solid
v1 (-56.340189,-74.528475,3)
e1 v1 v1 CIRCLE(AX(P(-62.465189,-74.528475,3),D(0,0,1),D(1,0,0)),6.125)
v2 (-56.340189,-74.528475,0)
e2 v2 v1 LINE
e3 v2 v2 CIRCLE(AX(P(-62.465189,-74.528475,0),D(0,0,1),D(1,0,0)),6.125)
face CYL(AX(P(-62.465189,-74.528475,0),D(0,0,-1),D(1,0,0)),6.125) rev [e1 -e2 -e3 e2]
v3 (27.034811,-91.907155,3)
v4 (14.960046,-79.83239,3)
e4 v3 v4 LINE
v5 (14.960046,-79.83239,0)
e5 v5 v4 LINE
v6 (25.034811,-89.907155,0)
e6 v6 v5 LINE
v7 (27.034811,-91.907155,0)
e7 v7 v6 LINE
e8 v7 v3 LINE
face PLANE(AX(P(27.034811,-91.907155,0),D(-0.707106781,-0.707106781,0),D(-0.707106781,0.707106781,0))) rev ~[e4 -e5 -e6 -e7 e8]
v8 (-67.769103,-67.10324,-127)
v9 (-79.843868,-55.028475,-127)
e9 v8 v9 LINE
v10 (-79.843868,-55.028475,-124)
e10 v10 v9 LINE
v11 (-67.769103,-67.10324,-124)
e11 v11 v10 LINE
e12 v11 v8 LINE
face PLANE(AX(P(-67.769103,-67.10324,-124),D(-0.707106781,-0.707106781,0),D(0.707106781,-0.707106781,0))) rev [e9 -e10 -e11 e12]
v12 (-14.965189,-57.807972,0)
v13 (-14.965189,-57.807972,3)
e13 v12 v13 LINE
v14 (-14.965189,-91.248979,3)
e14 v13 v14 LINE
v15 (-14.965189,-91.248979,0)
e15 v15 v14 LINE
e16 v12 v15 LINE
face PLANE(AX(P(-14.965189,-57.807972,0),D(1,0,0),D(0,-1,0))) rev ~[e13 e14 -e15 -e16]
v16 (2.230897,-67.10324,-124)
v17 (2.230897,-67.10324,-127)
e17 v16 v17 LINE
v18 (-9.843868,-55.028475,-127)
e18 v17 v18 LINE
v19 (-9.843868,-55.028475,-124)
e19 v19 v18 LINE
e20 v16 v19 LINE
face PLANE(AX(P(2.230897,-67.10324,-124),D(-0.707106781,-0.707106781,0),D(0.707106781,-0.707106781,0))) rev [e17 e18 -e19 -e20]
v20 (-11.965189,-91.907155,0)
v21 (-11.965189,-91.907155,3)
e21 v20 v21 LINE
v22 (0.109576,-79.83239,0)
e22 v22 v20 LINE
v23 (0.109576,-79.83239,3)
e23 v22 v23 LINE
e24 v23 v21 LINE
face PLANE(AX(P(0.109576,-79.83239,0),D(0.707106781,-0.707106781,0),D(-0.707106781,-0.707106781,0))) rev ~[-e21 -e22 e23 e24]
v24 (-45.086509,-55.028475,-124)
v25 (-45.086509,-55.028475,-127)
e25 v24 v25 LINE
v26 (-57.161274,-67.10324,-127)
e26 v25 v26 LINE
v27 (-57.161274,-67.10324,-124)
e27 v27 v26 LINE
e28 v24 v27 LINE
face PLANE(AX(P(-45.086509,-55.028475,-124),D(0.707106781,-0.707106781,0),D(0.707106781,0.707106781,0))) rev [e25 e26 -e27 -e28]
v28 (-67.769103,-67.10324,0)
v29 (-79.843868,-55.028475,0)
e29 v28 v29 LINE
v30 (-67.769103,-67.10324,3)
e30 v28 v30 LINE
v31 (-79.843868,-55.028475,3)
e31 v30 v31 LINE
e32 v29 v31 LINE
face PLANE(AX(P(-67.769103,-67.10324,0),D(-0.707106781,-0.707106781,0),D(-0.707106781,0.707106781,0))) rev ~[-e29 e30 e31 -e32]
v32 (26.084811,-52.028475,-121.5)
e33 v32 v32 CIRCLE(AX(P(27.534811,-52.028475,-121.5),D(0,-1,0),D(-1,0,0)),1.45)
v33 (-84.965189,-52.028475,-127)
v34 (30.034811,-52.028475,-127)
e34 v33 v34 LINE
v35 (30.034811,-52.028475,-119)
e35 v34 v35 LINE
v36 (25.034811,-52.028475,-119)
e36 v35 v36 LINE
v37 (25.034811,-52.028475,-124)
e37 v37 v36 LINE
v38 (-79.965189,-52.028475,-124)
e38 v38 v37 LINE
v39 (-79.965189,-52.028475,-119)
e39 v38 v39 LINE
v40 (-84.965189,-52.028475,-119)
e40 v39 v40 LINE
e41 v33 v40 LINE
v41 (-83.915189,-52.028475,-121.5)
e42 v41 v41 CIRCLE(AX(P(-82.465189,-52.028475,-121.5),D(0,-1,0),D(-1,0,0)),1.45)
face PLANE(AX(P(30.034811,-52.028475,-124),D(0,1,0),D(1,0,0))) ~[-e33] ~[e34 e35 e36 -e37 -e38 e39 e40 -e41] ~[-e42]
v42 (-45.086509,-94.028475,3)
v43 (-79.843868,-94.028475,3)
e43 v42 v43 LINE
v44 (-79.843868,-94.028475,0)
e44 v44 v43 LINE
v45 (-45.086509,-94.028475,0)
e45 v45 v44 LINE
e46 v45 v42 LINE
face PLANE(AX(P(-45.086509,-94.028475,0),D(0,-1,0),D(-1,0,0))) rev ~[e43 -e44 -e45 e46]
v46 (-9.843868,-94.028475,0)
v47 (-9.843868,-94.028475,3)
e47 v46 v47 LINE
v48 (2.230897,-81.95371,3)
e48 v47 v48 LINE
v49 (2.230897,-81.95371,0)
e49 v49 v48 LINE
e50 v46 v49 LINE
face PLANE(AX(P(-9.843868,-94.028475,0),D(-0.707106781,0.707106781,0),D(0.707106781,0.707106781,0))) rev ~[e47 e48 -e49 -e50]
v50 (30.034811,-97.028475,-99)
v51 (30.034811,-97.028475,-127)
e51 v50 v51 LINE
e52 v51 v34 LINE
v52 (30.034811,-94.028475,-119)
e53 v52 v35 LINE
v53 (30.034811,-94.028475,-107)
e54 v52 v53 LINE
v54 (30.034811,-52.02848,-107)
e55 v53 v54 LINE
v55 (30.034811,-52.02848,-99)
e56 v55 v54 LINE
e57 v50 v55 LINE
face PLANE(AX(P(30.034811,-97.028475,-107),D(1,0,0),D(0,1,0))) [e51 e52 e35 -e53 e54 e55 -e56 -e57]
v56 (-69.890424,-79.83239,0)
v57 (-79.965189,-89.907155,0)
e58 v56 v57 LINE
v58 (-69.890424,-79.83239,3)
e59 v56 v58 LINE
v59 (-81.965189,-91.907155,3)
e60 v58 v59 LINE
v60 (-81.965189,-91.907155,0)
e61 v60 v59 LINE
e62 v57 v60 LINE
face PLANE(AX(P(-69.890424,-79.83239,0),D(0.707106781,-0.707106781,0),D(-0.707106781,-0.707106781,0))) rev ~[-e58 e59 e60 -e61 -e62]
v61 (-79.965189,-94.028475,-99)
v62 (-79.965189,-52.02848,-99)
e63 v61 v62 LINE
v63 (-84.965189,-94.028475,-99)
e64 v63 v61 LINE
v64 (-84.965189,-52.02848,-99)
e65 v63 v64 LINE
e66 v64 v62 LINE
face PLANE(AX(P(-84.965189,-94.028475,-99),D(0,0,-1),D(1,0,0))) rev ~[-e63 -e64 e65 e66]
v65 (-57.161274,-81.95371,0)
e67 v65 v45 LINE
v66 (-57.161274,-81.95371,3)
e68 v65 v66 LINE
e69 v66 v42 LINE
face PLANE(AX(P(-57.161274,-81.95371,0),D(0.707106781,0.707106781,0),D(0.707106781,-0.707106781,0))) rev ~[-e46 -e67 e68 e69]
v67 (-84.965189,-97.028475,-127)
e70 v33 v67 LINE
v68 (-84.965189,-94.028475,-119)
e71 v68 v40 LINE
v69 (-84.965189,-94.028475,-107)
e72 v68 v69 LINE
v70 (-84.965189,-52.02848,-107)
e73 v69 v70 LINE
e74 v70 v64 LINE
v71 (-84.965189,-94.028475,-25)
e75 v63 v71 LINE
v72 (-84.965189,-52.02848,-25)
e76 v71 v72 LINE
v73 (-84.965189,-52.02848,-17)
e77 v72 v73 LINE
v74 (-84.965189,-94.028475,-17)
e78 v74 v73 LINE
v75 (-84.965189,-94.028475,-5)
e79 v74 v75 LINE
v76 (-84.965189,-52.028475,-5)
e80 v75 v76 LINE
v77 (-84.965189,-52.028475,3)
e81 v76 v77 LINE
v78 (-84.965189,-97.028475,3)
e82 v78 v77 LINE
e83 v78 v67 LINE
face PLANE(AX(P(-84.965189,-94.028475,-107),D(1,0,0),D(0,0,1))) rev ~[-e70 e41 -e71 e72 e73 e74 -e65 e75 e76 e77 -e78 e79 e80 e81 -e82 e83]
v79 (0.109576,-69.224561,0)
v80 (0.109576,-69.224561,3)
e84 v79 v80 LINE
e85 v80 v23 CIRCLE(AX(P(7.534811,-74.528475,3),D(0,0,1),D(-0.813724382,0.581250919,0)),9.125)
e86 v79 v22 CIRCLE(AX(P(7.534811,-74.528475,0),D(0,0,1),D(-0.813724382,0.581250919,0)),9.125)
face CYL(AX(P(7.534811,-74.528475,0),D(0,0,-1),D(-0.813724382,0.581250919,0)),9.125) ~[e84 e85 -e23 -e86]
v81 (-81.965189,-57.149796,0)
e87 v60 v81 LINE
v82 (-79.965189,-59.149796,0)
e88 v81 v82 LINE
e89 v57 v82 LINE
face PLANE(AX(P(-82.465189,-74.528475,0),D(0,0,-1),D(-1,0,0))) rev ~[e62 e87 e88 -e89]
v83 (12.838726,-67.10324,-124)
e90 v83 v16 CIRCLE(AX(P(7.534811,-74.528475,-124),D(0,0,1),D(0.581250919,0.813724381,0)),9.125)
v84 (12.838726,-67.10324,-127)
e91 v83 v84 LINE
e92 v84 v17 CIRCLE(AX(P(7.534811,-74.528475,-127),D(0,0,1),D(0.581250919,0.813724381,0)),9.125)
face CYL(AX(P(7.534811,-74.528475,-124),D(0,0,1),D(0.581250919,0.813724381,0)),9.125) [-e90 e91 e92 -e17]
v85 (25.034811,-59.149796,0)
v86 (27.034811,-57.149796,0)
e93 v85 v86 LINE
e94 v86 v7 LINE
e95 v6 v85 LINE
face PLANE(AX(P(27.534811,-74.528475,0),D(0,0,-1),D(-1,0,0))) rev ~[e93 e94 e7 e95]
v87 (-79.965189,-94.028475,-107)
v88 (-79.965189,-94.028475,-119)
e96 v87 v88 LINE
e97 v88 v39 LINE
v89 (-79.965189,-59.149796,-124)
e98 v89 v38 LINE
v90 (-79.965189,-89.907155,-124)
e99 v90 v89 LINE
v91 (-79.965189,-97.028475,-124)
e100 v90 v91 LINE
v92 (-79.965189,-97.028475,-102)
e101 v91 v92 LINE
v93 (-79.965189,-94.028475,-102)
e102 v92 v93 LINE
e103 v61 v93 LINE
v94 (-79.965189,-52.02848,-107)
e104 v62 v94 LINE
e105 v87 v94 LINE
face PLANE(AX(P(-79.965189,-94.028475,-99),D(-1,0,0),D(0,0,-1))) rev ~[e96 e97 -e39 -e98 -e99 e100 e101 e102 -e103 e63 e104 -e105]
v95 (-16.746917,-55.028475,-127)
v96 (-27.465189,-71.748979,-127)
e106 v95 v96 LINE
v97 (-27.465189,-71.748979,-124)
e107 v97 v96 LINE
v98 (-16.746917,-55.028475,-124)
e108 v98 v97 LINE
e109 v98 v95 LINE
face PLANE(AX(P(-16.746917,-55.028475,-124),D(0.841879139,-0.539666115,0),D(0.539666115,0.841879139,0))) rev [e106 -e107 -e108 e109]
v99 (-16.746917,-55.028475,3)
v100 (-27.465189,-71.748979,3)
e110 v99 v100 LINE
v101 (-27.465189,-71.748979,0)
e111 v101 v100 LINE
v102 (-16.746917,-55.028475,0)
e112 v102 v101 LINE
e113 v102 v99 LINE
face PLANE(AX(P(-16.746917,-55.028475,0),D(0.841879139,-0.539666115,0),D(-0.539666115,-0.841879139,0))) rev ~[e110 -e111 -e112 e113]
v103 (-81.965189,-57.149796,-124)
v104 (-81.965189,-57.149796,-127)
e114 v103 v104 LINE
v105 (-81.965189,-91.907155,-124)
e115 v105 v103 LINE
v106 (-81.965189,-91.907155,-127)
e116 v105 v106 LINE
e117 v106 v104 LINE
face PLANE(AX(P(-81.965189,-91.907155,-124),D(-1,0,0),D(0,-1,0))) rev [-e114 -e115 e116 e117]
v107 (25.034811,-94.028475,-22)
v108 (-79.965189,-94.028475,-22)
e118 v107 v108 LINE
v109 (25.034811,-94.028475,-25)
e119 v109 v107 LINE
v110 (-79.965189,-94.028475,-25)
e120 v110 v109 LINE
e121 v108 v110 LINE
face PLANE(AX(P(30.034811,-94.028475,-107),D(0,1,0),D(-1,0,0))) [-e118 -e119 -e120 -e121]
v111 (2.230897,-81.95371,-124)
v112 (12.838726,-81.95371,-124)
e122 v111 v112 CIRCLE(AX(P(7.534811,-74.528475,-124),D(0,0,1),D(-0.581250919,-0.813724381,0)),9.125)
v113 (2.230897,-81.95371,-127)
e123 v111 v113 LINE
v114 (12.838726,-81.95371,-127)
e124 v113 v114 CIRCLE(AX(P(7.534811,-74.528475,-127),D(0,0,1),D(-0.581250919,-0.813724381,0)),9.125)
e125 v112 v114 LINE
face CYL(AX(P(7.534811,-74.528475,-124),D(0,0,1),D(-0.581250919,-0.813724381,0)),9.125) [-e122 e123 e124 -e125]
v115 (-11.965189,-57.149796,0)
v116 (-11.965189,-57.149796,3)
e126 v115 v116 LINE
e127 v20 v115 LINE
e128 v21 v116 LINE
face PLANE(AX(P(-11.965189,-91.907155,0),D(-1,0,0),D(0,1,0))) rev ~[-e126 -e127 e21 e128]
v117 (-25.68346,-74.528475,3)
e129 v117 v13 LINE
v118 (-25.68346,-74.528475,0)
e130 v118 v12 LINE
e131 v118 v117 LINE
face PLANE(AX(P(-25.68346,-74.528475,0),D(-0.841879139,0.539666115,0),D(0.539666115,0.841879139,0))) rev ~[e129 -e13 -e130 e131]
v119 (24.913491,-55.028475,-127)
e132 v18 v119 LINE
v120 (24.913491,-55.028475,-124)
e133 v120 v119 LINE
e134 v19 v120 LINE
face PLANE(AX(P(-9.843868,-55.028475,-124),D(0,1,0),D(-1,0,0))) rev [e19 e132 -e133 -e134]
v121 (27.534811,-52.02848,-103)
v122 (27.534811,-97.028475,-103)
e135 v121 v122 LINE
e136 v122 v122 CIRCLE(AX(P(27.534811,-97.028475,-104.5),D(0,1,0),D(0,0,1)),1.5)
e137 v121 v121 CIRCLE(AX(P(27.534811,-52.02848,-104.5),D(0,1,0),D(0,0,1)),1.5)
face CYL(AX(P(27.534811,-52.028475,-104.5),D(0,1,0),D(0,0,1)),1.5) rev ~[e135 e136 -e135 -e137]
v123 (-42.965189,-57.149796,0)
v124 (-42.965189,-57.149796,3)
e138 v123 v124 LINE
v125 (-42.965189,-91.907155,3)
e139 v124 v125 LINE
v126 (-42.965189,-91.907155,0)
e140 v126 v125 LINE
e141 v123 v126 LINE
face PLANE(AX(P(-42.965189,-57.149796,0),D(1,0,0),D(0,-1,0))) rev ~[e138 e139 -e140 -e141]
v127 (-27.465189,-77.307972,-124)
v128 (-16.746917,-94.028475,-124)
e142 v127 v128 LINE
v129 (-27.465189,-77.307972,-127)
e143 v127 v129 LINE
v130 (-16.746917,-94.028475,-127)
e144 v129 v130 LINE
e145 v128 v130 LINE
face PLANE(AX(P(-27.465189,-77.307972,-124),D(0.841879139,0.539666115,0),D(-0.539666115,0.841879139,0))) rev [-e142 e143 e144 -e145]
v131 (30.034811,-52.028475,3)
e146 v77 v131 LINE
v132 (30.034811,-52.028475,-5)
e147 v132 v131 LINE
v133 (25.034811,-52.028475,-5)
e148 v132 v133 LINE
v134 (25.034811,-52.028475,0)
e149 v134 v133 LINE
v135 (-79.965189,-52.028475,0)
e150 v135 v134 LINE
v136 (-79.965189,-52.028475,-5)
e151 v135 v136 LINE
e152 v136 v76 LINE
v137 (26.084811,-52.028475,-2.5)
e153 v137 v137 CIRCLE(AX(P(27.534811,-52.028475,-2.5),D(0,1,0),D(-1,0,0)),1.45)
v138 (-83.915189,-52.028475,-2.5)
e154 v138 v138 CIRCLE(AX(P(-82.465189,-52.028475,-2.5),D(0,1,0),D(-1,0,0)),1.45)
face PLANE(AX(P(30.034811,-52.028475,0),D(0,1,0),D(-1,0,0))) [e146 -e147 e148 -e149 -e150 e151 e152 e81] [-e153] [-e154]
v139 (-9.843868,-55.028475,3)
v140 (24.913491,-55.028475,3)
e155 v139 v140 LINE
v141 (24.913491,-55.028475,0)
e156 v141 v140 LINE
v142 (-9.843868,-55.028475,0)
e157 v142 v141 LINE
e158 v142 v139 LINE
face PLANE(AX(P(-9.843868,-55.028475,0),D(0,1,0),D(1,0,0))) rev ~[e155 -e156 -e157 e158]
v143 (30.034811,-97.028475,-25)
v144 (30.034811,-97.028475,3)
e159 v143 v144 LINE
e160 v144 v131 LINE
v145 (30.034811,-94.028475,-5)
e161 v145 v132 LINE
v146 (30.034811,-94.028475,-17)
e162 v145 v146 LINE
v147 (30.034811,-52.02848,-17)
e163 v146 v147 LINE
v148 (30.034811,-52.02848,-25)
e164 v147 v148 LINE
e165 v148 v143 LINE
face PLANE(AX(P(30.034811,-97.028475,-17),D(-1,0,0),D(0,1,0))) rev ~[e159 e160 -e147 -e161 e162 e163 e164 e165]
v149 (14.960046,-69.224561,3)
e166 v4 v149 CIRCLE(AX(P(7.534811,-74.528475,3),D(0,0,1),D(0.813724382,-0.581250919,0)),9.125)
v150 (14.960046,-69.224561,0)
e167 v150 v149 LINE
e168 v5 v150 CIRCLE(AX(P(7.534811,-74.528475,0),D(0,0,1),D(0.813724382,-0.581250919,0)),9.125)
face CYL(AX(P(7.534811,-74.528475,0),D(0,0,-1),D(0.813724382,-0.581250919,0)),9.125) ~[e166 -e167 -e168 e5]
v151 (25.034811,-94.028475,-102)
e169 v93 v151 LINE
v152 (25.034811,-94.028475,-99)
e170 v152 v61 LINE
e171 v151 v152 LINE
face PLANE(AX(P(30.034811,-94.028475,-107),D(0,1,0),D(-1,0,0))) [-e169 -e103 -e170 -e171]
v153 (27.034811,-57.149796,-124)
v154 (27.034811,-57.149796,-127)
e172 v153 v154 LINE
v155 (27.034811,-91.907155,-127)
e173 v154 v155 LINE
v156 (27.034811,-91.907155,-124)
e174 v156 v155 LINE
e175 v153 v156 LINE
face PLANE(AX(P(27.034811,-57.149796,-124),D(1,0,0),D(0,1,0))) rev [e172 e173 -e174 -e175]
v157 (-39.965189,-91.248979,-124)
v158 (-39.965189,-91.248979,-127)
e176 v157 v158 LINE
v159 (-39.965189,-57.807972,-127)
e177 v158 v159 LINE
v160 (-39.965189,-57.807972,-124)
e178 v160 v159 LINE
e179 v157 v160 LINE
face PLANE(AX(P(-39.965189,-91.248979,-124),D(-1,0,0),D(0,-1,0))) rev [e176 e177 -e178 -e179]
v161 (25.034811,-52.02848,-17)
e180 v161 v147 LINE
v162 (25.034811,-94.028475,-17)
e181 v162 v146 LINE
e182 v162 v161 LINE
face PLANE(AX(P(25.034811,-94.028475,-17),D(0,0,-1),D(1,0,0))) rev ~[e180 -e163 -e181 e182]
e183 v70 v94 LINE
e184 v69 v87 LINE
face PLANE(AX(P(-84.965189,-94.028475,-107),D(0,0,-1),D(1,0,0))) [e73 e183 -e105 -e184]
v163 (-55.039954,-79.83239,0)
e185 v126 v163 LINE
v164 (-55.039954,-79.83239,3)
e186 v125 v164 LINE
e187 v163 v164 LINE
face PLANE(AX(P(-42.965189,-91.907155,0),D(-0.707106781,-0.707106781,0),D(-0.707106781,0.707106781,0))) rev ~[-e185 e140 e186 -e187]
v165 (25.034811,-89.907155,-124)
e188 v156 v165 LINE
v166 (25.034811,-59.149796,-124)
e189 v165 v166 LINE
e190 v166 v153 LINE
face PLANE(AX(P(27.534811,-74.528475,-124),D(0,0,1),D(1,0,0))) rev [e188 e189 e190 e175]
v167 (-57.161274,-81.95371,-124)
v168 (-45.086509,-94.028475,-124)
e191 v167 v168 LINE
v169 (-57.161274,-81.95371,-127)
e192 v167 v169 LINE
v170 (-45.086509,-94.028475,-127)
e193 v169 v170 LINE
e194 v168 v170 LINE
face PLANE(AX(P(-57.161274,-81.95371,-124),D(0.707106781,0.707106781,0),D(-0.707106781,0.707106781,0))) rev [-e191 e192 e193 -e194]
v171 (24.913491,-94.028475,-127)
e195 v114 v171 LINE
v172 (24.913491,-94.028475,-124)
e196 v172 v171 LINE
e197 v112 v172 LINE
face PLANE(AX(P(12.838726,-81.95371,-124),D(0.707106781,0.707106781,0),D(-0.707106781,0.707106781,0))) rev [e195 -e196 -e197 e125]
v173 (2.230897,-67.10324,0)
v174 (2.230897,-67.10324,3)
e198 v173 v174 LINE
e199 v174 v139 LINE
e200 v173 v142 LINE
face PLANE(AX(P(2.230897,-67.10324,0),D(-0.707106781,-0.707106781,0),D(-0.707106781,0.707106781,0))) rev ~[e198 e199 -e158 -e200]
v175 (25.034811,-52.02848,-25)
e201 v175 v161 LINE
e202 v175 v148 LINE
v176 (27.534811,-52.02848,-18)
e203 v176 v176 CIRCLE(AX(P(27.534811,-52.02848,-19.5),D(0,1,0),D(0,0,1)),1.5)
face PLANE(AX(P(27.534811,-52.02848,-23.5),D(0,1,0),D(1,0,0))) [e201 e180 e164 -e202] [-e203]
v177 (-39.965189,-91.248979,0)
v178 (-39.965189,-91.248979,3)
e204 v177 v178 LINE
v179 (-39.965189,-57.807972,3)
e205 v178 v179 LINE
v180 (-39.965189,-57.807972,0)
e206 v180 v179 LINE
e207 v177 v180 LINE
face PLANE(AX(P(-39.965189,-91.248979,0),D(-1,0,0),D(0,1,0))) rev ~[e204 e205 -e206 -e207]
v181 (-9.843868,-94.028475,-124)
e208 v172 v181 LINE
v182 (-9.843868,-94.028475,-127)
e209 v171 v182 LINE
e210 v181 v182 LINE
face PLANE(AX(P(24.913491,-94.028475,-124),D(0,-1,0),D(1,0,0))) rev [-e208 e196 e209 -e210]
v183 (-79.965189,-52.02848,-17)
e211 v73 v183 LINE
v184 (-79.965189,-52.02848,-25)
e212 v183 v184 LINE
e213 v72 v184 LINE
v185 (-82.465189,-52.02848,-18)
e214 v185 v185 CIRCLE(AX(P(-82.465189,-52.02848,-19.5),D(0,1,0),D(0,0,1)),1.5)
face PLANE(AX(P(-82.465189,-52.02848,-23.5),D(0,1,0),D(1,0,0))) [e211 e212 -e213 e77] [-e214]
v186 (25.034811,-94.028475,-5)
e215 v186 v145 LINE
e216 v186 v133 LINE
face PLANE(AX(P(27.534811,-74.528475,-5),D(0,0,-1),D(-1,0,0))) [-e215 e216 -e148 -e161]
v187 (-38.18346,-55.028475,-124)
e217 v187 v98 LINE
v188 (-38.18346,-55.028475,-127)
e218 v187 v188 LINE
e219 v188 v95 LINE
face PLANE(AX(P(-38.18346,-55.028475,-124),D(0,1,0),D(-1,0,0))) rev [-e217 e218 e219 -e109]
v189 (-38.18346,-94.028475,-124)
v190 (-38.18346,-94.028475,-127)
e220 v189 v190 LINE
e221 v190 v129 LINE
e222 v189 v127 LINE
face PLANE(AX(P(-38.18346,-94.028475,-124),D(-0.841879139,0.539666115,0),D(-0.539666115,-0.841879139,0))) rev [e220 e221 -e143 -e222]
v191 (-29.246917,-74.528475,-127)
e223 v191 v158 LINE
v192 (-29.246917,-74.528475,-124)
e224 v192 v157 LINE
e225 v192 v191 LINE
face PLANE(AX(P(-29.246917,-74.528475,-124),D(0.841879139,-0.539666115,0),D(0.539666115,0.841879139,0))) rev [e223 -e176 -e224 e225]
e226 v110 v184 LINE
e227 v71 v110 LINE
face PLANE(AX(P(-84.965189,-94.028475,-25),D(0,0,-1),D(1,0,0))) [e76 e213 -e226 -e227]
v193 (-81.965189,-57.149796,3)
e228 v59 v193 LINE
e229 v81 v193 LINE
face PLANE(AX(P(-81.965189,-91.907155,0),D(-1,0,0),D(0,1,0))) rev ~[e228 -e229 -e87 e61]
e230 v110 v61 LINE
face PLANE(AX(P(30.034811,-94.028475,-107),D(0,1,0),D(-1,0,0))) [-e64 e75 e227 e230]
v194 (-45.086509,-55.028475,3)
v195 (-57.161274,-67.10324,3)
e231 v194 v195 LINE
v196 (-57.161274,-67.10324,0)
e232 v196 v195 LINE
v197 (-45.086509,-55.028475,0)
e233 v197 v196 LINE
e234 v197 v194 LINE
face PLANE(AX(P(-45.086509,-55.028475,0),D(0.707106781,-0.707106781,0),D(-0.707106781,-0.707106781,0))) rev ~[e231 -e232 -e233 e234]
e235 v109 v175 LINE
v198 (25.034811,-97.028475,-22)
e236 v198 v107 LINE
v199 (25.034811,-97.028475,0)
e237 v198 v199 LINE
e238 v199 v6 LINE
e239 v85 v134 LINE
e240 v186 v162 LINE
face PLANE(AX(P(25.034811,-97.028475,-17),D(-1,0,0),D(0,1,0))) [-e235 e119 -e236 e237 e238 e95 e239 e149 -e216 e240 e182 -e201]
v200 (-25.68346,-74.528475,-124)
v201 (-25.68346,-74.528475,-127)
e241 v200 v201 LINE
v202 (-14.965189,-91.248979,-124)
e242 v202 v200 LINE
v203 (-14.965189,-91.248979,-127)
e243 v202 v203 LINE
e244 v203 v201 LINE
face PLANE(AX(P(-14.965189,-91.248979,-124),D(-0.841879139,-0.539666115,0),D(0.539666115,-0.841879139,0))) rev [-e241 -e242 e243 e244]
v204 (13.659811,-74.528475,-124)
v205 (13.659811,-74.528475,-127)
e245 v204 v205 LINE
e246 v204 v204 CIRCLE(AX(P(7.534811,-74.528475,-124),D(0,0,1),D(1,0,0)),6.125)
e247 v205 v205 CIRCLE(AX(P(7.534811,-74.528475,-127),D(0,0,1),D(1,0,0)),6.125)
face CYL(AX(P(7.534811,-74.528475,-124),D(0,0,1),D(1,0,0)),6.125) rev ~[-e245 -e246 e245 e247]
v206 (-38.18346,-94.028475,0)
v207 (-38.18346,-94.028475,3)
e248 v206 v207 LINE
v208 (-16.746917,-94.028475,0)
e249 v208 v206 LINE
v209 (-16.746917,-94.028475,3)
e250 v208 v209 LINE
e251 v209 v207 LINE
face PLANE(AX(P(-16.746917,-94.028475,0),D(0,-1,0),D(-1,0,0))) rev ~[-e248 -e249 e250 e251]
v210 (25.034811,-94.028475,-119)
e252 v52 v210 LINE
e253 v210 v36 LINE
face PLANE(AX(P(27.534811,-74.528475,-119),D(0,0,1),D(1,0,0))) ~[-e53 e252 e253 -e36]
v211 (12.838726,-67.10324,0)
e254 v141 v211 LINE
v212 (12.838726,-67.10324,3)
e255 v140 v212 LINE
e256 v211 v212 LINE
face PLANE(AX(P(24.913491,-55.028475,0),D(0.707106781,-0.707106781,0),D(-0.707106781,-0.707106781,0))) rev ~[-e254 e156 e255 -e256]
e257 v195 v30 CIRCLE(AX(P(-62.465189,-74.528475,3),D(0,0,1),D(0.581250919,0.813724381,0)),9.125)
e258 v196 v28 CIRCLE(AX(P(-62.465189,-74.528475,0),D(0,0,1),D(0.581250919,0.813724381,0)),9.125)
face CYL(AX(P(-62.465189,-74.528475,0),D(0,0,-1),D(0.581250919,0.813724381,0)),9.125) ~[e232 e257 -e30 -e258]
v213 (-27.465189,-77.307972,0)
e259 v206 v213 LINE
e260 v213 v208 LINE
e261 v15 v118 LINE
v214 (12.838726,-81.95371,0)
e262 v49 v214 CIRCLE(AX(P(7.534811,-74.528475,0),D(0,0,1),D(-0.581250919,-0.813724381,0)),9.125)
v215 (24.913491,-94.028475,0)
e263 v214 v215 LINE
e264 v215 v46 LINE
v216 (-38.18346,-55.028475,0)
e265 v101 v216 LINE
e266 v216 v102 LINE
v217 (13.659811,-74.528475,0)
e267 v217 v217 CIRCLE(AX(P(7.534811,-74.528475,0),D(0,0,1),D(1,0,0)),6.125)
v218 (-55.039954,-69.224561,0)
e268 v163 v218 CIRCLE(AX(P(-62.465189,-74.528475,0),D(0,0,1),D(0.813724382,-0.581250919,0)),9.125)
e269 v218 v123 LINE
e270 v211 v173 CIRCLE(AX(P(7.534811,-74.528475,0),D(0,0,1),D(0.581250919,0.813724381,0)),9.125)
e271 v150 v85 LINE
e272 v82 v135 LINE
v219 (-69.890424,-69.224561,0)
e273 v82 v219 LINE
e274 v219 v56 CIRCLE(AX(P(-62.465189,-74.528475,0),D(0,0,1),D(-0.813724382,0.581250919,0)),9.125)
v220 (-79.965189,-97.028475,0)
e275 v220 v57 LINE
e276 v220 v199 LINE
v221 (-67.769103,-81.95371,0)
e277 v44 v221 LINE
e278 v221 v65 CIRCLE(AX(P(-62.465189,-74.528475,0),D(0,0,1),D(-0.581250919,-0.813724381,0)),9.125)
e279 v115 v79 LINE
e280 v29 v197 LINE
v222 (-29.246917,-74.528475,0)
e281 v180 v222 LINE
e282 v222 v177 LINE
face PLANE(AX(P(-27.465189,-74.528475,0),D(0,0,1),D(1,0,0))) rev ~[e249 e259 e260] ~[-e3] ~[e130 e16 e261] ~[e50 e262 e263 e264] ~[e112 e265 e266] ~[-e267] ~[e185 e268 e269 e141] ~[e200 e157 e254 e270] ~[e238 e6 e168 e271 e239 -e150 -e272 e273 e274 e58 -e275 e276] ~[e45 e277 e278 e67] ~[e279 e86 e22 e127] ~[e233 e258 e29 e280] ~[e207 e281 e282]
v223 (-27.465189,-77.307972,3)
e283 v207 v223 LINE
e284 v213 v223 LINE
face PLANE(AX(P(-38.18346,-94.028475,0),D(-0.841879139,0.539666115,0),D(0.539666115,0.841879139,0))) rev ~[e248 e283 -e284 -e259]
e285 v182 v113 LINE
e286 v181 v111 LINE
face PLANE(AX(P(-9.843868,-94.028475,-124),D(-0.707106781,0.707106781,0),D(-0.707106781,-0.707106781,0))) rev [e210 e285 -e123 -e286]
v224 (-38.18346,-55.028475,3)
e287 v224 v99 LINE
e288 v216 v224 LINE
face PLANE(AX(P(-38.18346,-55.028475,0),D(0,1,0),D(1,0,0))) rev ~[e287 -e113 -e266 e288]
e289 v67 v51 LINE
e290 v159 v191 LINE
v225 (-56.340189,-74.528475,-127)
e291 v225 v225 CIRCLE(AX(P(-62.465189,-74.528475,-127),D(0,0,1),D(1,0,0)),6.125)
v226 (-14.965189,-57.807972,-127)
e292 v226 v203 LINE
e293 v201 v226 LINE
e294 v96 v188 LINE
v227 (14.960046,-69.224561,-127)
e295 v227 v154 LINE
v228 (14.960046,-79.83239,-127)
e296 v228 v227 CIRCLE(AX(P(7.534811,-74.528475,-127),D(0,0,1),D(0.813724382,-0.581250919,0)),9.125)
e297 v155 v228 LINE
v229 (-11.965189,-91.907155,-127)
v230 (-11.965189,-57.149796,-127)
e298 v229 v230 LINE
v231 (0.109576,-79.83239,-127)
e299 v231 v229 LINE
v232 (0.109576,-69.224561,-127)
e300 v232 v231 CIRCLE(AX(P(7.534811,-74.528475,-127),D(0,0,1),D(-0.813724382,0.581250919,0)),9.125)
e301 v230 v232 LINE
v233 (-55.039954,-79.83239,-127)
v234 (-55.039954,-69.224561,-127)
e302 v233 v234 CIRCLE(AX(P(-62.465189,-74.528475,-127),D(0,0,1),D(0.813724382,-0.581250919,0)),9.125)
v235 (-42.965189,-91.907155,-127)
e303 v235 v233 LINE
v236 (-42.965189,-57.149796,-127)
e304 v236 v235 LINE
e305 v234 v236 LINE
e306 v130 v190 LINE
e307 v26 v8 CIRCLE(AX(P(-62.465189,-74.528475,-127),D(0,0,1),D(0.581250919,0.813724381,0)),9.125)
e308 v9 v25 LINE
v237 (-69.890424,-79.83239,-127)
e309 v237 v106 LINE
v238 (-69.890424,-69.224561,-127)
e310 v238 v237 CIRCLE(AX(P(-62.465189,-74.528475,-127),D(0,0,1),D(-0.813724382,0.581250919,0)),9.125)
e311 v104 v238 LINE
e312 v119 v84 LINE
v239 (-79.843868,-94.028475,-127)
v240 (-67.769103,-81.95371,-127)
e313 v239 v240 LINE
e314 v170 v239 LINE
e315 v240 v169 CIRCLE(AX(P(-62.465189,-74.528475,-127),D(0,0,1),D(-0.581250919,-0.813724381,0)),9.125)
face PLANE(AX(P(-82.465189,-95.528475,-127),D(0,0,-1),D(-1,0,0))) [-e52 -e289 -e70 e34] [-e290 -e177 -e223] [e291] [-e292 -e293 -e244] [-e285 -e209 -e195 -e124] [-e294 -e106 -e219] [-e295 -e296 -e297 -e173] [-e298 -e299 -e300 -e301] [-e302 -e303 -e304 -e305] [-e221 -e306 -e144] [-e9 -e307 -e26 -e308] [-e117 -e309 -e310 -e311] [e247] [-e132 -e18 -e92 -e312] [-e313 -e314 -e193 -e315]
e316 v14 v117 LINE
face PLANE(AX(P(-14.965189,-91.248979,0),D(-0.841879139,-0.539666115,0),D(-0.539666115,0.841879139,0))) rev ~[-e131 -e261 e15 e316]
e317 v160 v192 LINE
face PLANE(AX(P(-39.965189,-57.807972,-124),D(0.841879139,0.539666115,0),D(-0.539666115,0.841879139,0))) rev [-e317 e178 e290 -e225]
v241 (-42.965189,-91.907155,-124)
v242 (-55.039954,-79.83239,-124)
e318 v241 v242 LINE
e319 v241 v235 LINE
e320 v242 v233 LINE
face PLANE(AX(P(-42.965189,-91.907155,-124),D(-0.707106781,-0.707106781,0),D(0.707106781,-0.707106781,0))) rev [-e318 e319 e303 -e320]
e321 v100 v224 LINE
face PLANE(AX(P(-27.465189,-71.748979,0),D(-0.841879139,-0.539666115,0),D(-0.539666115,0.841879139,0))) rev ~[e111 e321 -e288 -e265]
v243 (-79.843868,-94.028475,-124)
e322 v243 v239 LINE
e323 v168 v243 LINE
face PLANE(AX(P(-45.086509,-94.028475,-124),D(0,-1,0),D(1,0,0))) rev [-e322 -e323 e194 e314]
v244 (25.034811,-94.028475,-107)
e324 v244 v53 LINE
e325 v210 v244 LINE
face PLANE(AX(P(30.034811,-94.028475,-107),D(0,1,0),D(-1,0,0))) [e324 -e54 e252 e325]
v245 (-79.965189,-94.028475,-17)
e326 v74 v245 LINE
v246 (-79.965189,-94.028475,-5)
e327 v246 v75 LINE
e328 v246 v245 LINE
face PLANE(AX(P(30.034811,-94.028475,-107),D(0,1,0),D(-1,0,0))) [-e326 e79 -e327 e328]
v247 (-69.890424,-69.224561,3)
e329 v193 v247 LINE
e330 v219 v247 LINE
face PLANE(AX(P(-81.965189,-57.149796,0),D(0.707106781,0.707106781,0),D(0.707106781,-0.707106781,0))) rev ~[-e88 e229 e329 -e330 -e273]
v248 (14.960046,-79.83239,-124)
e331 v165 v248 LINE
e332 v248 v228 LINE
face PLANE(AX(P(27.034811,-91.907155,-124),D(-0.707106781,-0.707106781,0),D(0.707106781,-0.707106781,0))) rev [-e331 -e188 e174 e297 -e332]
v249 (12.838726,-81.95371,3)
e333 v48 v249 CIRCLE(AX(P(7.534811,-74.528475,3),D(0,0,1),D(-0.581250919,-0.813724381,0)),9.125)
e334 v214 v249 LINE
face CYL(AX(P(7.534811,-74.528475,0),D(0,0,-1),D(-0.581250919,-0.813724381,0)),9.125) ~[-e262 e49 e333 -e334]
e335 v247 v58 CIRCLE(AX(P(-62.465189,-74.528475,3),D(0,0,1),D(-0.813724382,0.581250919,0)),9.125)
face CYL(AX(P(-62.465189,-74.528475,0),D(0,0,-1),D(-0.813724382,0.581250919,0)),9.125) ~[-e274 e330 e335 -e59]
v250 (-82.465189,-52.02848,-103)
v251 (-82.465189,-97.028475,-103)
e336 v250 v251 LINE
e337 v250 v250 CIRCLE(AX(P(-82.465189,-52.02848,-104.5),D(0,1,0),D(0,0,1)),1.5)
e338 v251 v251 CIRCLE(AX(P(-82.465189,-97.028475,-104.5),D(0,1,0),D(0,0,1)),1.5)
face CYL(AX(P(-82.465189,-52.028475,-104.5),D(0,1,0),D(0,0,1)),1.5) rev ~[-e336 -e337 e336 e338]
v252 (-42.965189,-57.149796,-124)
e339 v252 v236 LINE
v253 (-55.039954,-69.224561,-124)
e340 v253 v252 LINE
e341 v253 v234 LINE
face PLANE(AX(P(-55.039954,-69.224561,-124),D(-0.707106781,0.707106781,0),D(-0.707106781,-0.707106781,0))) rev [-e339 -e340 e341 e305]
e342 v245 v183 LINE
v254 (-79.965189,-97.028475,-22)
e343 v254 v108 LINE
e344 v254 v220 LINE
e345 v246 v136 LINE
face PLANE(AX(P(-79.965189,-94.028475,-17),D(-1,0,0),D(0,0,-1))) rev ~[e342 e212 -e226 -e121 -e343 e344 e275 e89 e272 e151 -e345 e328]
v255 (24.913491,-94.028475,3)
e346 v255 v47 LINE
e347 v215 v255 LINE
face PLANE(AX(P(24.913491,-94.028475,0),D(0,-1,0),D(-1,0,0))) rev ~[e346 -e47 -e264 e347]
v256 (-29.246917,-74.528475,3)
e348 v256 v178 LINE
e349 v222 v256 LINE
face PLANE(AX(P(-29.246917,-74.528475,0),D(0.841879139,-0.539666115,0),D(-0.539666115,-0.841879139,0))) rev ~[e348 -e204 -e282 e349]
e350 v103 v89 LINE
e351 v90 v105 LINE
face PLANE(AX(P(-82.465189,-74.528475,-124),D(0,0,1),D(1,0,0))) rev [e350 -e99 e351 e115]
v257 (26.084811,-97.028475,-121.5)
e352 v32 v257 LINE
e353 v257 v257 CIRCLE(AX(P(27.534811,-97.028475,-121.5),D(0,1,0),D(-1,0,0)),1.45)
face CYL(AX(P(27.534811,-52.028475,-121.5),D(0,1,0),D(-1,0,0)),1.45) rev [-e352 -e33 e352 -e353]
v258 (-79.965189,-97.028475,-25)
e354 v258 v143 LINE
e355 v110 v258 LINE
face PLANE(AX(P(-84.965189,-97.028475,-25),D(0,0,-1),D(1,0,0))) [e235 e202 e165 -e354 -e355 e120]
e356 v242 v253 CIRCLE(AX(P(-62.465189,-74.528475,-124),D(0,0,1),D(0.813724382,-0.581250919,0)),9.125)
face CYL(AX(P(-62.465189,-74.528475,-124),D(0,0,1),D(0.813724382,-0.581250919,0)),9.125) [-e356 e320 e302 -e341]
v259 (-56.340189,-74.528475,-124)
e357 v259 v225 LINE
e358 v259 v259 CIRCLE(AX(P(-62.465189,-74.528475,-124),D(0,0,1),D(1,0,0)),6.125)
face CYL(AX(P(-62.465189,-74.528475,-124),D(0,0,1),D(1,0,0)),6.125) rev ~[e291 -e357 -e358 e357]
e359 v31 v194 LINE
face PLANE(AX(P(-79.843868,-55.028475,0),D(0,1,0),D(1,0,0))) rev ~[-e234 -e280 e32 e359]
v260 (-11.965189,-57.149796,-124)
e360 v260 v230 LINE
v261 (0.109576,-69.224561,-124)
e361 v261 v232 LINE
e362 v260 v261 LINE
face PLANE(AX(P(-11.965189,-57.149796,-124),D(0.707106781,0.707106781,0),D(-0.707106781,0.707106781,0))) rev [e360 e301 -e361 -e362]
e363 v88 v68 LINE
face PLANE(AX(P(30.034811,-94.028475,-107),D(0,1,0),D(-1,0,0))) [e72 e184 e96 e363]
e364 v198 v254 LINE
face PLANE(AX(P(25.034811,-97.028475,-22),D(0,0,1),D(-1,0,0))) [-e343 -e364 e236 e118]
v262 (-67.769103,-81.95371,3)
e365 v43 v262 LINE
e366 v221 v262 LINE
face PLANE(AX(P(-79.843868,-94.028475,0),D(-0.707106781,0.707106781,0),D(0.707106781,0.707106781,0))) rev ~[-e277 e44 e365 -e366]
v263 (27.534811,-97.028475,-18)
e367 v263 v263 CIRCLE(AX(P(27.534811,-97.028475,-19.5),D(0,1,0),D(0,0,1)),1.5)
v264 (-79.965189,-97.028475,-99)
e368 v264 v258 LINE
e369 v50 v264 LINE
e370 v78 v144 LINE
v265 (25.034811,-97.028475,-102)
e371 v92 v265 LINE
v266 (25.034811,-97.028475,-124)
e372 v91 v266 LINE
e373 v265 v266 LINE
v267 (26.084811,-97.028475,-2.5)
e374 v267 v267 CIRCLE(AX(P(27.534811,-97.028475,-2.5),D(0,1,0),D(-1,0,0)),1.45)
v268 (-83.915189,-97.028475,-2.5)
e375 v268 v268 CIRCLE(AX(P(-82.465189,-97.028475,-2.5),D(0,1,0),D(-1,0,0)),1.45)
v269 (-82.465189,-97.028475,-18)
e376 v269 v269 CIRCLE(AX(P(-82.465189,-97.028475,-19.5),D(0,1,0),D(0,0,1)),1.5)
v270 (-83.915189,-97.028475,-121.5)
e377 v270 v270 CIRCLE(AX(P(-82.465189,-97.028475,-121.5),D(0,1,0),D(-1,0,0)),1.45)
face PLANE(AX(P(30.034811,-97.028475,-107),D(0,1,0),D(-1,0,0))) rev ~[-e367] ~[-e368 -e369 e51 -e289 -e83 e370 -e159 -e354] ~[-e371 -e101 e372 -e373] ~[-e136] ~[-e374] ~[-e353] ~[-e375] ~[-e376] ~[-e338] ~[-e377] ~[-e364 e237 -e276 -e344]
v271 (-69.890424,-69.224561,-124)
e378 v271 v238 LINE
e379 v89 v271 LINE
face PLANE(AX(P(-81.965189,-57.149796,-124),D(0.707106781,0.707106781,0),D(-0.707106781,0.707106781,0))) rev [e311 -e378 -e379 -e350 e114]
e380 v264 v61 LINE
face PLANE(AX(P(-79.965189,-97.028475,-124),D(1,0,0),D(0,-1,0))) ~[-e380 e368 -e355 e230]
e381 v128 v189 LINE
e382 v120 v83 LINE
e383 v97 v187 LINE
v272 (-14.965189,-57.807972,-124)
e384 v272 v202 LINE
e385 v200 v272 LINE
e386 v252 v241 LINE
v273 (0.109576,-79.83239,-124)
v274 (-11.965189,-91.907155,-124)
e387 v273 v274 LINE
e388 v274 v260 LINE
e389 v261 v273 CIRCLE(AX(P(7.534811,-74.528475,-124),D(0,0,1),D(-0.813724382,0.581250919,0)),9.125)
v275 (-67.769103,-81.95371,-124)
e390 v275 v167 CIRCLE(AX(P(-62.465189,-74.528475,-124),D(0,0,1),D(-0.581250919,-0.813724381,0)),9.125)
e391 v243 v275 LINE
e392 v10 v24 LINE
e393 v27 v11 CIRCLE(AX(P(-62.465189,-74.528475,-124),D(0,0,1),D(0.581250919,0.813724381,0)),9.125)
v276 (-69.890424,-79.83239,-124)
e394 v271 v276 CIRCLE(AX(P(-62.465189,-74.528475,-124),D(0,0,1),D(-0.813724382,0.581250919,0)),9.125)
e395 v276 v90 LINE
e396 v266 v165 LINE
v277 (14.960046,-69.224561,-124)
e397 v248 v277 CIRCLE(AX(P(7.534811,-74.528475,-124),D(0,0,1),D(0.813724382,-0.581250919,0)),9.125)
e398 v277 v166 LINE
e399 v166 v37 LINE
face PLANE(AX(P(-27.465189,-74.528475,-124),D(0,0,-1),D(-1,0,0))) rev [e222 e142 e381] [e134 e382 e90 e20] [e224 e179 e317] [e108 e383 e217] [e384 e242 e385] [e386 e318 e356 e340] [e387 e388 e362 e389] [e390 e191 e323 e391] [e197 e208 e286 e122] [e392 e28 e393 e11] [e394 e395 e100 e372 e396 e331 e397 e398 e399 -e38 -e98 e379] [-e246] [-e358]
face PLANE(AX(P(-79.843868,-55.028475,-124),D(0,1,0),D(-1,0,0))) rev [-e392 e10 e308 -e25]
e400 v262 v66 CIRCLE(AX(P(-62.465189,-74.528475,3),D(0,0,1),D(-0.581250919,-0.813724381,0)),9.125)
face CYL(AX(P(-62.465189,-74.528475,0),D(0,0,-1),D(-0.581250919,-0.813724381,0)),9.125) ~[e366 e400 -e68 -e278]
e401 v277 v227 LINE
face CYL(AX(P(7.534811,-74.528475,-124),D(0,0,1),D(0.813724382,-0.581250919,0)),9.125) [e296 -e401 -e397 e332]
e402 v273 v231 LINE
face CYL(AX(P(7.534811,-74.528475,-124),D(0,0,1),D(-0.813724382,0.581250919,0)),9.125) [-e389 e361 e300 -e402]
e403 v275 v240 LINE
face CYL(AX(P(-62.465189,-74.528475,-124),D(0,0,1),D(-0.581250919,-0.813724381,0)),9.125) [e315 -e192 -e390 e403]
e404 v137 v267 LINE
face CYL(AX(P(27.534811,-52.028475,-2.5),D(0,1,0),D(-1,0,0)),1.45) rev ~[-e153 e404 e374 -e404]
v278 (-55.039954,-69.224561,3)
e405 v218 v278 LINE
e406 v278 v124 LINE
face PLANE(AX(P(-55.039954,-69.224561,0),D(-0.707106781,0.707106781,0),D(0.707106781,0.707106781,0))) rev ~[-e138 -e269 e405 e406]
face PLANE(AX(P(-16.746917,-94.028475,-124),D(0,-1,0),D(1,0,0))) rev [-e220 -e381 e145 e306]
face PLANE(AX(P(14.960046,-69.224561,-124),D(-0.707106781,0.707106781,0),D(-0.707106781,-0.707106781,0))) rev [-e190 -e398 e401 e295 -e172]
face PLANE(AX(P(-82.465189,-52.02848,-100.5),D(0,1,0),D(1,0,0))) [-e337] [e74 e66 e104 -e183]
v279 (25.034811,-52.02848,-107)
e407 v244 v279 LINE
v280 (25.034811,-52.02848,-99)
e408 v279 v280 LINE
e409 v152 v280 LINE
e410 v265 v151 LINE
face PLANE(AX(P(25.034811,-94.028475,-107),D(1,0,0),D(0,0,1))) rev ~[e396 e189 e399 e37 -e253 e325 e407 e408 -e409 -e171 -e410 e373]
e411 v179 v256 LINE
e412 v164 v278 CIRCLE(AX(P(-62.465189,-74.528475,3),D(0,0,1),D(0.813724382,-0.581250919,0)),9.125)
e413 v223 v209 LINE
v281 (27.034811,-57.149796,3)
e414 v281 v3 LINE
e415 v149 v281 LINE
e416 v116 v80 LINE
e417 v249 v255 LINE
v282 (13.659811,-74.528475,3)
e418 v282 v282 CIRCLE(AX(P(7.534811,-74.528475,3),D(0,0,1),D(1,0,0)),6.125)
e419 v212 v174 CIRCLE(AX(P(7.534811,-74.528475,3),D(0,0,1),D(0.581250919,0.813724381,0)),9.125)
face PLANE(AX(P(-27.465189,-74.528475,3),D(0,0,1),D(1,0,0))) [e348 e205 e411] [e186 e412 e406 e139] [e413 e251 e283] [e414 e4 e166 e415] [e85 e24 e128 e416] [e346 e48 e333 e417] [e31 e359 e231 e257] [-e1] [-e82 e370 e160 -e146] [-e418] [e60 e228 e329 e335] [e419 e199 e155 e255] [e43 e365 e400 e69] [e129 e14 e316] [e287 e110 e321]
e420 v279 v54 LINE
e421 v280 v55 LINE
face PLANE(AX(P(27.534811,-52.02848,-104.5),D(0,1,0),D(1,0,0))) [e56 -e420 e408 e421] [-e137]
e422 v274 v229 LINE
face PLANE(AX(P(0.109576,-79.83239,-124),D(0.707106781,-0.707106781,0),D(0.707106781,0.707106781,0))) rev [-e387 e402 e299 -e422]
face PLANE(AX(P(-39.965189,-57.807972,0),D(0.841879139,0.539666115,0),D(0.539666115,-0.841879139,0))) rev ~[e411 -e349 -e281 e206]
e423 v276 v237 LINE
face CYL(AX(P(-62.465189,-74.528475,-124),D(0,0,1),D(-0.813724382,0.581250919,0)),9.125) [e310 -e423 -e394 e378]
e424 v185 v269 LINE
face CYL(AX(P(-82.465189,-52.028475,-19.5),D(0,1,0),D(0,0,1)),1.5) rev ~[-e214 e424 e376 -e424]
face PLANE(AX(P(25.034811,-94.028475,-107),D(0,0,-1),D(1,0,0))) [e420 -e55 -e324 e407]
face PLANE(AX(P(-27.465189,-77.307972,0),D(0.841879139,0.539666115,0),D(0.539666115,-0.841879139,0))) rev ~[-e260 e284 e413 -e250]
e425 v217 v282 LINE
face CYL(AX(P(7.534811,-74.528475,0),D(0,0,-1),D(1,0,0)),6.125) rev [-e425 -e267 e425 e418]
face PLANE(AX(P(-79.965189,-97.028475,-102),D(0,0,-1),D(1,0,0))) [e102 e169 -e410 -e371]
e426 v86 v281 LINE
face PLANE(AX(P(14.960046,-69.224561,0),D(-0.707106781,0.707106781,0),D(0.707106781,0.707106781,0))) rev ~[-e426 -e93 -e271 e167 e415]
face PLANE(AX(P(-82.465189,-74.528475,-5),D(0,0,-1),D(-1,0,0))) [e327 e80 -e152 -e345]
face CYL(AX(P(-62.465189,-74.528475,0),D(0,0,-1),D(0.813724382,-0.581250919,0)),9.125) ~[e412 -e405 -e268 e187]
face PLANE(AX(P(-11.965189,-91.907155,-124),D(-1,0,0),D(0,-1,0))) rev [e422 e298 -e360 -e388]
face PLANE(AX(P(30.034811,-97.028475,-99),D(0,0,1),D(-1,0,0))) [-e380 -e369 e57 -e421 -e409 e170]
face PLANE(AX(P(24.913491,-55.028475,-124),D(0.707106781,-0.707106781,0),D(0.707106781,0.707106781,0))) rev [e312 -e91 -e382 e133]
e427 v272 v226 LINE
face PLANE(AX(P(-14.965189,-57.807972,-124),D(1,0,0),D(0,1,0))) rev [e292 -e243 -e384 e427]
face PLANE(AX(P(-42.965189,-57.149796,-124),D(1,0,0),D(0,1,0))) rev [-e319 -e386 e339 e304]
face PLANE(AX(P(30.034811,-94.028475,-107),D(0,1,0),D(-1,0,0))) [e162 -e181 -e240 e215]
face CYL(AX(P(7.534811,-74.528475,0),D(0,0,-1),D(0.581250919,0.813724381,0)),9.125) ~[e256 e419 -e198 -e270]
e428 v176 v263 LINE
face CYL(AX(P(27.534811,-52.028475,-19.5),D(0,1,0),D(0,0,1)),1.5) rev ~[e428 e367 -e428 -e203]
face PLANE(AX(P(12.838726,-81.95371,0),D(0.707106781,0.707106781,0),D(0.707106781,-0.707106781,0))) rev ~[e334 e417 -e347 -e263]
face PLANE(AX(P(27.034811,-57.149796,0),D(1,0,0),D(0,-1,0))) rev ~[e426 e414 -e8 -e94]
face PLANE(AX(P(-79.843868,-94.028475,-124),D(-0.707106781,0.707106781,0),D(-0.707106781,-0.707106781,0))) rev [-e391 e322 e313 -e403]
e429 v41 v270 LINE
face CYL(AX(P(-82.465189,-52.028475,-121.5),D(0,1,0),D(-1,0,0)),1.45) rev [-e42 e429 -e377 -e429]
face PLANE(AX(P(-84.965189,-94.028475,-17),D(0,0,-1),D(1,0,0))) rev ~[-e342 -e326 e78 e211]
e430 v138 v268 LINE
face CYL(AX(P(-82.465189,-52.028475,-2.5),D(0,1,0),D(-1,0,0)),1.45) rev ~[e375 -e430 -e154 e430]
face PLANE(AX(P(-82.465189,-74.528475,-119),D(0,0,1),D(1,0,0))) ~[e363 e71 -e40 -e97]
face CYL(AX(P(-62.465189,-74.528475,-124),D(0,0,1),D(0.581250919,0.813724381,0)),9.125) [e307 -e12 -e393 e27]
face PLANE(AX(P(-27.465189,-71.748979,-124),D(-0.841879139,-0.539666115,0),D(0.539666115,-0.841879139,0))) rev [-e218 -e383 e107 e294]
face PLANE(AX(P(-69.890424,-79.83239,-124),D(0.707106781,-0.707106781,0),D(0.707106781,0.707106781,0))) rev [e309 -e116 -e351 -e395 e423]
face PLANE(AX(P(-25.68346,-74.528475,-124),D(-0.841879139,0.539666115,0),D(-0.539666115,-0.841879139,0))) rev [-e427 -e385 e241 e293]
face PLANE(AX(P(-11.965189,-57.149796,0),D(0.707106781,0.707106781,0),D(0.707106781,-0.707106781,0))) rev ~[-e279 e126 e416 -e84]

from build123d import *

# Parameters (mm, degrees)
SKETCH1_W           = 115
SKETCH1_H           = 45
SKETCH1_R           = 6.125
BOSS_EXTRUDE1_DEPTH = 3
SKETCH2_W           = 5
SKETCH2_H           = 45
BOSS_EXTRUDE2_DEPTH = 5
SKETCH3_R           = 1.45
CUT_EXTRUDE1_DEPTH  = 97.276078541
SKETCH4_W           = 5
SKETCH4_H           = 3
BOSS_EXTRUDE3_DEPTH = 122
BOSS_EXTRUDE5_DEPTH = 3
SKETCH8_W           = 5
SKETCH8_H           = 3
BOSS_EXTRUDE6_DEPTH = 12
SKETCH9_W           = 5
SKETCH9_H           = 3
BOSS_EXTRUDE7_DEPTH = 12
SKETCH10_W          = 5
SKETCH10_H          = 3
SKETCH10_H_2        = 5
BOSS_EXTRUDE8_DEPTH = 41.999995
SKETCH13_R          = 1.5
CUT_EXTRUDE3_DEPTH  = 160.289306921


with BuildPart() as part:
    # Sketch1 → Boss-Extrude1 (new body)
    with BuildSketch(Plane.XY):
        with Locations((-27.46518875, -74.528475384)):
            Rectangle(SKETCH1_W, SKETCH1_H)
        Polygon((-16.746917184, -94.028475384), (-38.183460316, -94.028475384), (-27.46518875, -77.307971742), align=None, mode=Mode.SUBTRACT)
        Polygon((-14.96518875, -57.807971742), (-14.96518875, -91.248979027), (-25.683460316, -74.528475384), align=None, mode=Mode.SUBTRACT)
        Polygon((-38.183460316, -55.028475384), (-16.746917184, -55.028475384), (-27.46518875, -71.748979027), align=None, mode=Mode.SUBTRACT)
        Polygon((-39.96518875, -91.248979027), (-39.96518875, -57.807971742), (-29.246917184, -74.528475384), align=None, mode=Mode.SUBTRACT)
        with BuildLine():
            Line((-11.96518875, -91.907155041), (-11.96518875, -57.149795728))
            Line((-11.96518875, -57.149795728), (0.109576269, -69.224560747))
            ThreePointArc((0.109576269, -69.224560747), (-1.59018875, -74.528475384), (0.109576269, -79.832390022))
            Line((0.109576269, -79.832390022), (-11.96518875, -91.907155041))
        make_face(mode=Mode.SUBTRACT)
        with BuildLine():
            Line((-9.843868406, -55.028475384), (24.913490906, -55.028475384))
            Line((24.913490906, -55.028475384), (12.838725887, -67.103240403))
            ThreePointArc((12.838725887, -67.103240403), (7.53481125, -65.403475384), (2.230896613, -67.103240403))
            Line((2.230896613, -67.103240403), (-9.843868406, -55.028475384))
        make_face(mode=Mode.SUBTRACT)
        with BuildLine():
            Line((27.03481125, -57.149795728), (27.03481125, -91.907155041))
            Line((27.03481125, -91.907155041), (14.960046231, -79.832390022))
            ThreePointArc((14.960046231, -79.832390022), (16.65981125, -74.528475384), (14.960046231, -69.224560747))
            Line((14.960046231, -69.224560747), (27.03481125, -57.149795728))
        make_face(mode=Mode.SUBTRACT)
        with BuildLine():
            Line((12.838725887, -81.953710365), (24.913490906, -94.028475384))
            Line((24.913490906, -94.028475384), (-9.843868406, -94.028475384))
            Line((-9.843868406, -94.028475384), (2.230896613, -81.953710365))
            ThreePointArc((2.230896613, -81.953710365), (7.53481125, -83.653475384), (12.838725887, -81.953710365))
        make_face(mode=Mode.SUBTRACT)
        with BuildLine():
            Line((-81.96518875, -91.907155041), (-81.96518875, -57.149795728))
            Line((-81.96518875, -57.149795728), (-69.890423731, -69.224560747))
            ThreePointArc((-69.890423731, -69.224560747), (-71.59018875, -74.528475384), (-69.890423731, -79.832390022))
            Line((-69.890423731, -79.832390022), (-81.96518875, -91.907155041))
        make_face(mode=Mode.SUBTRACT)
        with BuildLine():
            Line((-79.843868406, -55.028475384), (-45.086509094, -55.028475384))
            Line((-45.086509094, -55.028475384), (-57.161274113, -67.103240403))
            ThreePointArc((-57.161274113, -67.103240403), (-62.46518875, -65.403475384), (-67.769103387, -67.103240403))
            Line((-67.769103387, -67.103240403), (-79.843868406, -55.028475384))
        make_face(mode=Mode.SUBTRACT)
        with BuildLine():
            Line((-42.96518875, -57.149795728), (-42.96518875, -91.907155041))
            Line((-42.96518875, -91.907155041), (-55.039953769, -79.832390022))
            ThreePointArc((-55.039953769, -79.832390022), (-53.34018875, -74.528475384), (-55.039953769, -69.224560747))
            Line((-55.039953769, -69.224560747), (-42.96518875, -57.149795728))
        make_face(mode=Mode.SUBTRACT)
        with BuildLine():
            Line((-45.086509094, -94.028475384), (-79.843868406, -94.028475384))
            Line((-79.843868406, -94.028475384), (-67.769103387, -81.953710365))
            ThreePointArc((-67.769103387, -81.953710365), (-62.46518875, -83.653475384), (-57.161274113, -81.953710365))
            Line((-57.161274113, -81.953710365), (-45.086509094, -94.028475384))
        make_face(mode=Mode.SUBTRACT)
        with Locations((-62.46518875, -74.528475384)):
            Circle(SKETCH1_R, mode=Mode.SUBTRACT)
        with Locations((7.53481125, -74.528475384)):
            Circle(SKETCH1_R, mode=Mode.SUBTRACT)
    boss_extrude1 = extrude(amount=BOSS_EXTRUDE1_DEPTH)

    # Sketch2 → Boss-Extrude2 (add)
    with BuildSketch(Plane(origin=(0, 0, 0), x_dir=(-1, 0, 0), z_dir=(0, 0, -1))):
        with Locations((-27.53481125, -74.528475384)):
            Rectangle(SKETCH2_W, SKETCH2_H)
        with Locations((82.46518875, -74.528475384)):
            Rectangle(SKETCH2_W, SKETCH2_H)
    boss_extrude2 = extrude(amount=BOSS_EXTRUDE2_DEPTH)

    # Sketch3 → Cut-Extrude1 (cut, through all)
    with BuildSketch(Plane(origin=(0, -52.028475384, 0), x_dir=(1, 0, 0), z_dir=(0, 1, 0))):
        with Locations(Location((-82.46518875, 2.5, 0), (0, 0, 180))):
            Circle(SKETCH3_R)
        with Locations(Location((27.53481125, 2.5, 0), (0, 0, 180))):
            Circle(SKETCH3_R)
    cut_extrude1 = extrude(amount=-CUT_EXTRUDE1_DEPTH, mode=Mode.SUBTRACT)

    # Sketch4 → Boss-Extrude3 (add)
    with BuildSketch(Plane(origin=(0, 0, -5), x_dir=(-1, 0, 0), z_dir=(0, 0, -1))):
        with Locations((82.46518875, -95.528475384)):
            Rectangle(SKETCH4_W, SKETCH4_H)
    extrude(amount=BOSS_EXTRUDE3_DEPTH)

    # Mirror3: Boss-Extrude1, Boss-Extrude2, Cut-Extrude1 across plane
    add(boss_extrude1.mirror(Plane(origin=(0, 0, -62), x_dir=(1, 0, 0), z_dir=(0, 0, -1))))
    add(boss_extrude2.mirror(Plane(origin=(0, 0, -62), x_dir=(1, 0, 0), z_dir=(0, 0, -1))))
    add(cut_extrude1.mirror(Plane(origin=(0, 0, -62), x_dir=(1, 0, 0), z_dir=(0, 0, -1))), mode=Mode.SUBTRACT)

    # Sketch7 → Boss-Extrude5 (add)
    with BuildSketch(Plane(origin=(0, -97.028475384, 0), x_dir=(-1, 0, 0), z_dir=(0, -1, 0))):
        Polygon((-30.03481125, 25), (-30.03481125, 17), (-25.03481125, 17), (-25.03481125, 22), (79.96518875, 22), (79.96518875, 17), (84.96518875, 17), (84.96518875, 25), align=None)
        Polygon((79.96518875, 107), (79.96518875, 102), (-25.03481125, 102), (-25.03481125, 107), (-30.03481125, 107), (-30.03481125, 99), (84.96518875, 99), (84.96518875, 107), align=None)
    extrude(amount=-BOSS_EXTRUDE5_DEPTH)

    # Sketch8 → Boss-Extrude6 (add)
    with BuildSketch(Plane.XY.offset(-17)):
        with Locations((27.53481125, -95.528475384)):
            Rectangle(SKETCH8_W, SKETCH8_H)
    extrude(amount=BOSS_EXTRUDE6_DEPTH)

    # Sketch9 → Boss-Extrude7 (add)
    with BuildSketch(Plane(origin=(0, 0, -107), x_dir=(-1, 0, 0), z_dir=(0, 0, -1))):
        with Locations((-27.53481125, -95.528475384)):
            Rectangle(SKETCH9_W, SKETCH9_H)
    extrude(amount=BOSS_EXTRUDE7_DEPTH)

    # Sketch10 → Boss-Extrude8 (add)
    with BuildSketch(Plane(origin=(0, -94.028475384, 0), x_dir=(1, 0, 0), z_dir=(0, 1, 0))):
        with Locations((-82.46518875, 100.5)):
            Rectangle(SKETCH10_W, SKETCH10_H)
        with Locations((-82.46518875, 104.5)):
            Rectangle(SKETCH10_W, SKETCH10_H_2)
        with Locations((-82.46518875, 23.5)):
            Rectangle(SKETCH10_W, SKETCH10_H)
        with Locations((-82.46518875, 19.5)):
            Rectangle(SKETCH10_W, SKETCH10_H_2)
        with Locations((27.53481125, 23.5)):
            Rectangle(SKETCH10_W, SKETCH10_H)
        with Locations((27.53481125, 19.5)):
            Rectangle(SKETCH10_W, SKETCH10_H_2)
        with Locations((27.53481125, 104.5)):
            Rectangle(SKETCH10_W, SKETCH10_H_2)
        with Locations((27.53481125, 100.5)):
            Rectangle(SKETCH10_W, SKETCH10_H)
    extrude(amount=BOSS_EXTRUDE8_DEPTH)

    # Sketch13 → Cut-Extrude3 (cut, through all)
    with BuildSketch(Plane(origin=(0, -52.028475384, 0), x_dir=(1, 0, 0), z_dir=(0, 1, 0))):
        with Locations(Location((27.53481125, 19.5, 0), (0, 0, 270))):
            Circle(SKETCH13_R)
        with Locations(Location((27.53481125, 104.5, 0), (0, 0, 270))):
            Circle(SKETCH13_R)
        with Locations(Location((-82.46518875, 104.5, 0), (0, 0, 270))):
            Circle(SKETCH13_R)
        with Locations(Location((-82.46518875, 19.5, 0), (0, 0, 270))):
            Circle(SKETCH13_R)
    extrude(amount=-CUT_EXTRUDE3_DEPTH, mode=Mode.SUBTRACT)


solid = part.part
